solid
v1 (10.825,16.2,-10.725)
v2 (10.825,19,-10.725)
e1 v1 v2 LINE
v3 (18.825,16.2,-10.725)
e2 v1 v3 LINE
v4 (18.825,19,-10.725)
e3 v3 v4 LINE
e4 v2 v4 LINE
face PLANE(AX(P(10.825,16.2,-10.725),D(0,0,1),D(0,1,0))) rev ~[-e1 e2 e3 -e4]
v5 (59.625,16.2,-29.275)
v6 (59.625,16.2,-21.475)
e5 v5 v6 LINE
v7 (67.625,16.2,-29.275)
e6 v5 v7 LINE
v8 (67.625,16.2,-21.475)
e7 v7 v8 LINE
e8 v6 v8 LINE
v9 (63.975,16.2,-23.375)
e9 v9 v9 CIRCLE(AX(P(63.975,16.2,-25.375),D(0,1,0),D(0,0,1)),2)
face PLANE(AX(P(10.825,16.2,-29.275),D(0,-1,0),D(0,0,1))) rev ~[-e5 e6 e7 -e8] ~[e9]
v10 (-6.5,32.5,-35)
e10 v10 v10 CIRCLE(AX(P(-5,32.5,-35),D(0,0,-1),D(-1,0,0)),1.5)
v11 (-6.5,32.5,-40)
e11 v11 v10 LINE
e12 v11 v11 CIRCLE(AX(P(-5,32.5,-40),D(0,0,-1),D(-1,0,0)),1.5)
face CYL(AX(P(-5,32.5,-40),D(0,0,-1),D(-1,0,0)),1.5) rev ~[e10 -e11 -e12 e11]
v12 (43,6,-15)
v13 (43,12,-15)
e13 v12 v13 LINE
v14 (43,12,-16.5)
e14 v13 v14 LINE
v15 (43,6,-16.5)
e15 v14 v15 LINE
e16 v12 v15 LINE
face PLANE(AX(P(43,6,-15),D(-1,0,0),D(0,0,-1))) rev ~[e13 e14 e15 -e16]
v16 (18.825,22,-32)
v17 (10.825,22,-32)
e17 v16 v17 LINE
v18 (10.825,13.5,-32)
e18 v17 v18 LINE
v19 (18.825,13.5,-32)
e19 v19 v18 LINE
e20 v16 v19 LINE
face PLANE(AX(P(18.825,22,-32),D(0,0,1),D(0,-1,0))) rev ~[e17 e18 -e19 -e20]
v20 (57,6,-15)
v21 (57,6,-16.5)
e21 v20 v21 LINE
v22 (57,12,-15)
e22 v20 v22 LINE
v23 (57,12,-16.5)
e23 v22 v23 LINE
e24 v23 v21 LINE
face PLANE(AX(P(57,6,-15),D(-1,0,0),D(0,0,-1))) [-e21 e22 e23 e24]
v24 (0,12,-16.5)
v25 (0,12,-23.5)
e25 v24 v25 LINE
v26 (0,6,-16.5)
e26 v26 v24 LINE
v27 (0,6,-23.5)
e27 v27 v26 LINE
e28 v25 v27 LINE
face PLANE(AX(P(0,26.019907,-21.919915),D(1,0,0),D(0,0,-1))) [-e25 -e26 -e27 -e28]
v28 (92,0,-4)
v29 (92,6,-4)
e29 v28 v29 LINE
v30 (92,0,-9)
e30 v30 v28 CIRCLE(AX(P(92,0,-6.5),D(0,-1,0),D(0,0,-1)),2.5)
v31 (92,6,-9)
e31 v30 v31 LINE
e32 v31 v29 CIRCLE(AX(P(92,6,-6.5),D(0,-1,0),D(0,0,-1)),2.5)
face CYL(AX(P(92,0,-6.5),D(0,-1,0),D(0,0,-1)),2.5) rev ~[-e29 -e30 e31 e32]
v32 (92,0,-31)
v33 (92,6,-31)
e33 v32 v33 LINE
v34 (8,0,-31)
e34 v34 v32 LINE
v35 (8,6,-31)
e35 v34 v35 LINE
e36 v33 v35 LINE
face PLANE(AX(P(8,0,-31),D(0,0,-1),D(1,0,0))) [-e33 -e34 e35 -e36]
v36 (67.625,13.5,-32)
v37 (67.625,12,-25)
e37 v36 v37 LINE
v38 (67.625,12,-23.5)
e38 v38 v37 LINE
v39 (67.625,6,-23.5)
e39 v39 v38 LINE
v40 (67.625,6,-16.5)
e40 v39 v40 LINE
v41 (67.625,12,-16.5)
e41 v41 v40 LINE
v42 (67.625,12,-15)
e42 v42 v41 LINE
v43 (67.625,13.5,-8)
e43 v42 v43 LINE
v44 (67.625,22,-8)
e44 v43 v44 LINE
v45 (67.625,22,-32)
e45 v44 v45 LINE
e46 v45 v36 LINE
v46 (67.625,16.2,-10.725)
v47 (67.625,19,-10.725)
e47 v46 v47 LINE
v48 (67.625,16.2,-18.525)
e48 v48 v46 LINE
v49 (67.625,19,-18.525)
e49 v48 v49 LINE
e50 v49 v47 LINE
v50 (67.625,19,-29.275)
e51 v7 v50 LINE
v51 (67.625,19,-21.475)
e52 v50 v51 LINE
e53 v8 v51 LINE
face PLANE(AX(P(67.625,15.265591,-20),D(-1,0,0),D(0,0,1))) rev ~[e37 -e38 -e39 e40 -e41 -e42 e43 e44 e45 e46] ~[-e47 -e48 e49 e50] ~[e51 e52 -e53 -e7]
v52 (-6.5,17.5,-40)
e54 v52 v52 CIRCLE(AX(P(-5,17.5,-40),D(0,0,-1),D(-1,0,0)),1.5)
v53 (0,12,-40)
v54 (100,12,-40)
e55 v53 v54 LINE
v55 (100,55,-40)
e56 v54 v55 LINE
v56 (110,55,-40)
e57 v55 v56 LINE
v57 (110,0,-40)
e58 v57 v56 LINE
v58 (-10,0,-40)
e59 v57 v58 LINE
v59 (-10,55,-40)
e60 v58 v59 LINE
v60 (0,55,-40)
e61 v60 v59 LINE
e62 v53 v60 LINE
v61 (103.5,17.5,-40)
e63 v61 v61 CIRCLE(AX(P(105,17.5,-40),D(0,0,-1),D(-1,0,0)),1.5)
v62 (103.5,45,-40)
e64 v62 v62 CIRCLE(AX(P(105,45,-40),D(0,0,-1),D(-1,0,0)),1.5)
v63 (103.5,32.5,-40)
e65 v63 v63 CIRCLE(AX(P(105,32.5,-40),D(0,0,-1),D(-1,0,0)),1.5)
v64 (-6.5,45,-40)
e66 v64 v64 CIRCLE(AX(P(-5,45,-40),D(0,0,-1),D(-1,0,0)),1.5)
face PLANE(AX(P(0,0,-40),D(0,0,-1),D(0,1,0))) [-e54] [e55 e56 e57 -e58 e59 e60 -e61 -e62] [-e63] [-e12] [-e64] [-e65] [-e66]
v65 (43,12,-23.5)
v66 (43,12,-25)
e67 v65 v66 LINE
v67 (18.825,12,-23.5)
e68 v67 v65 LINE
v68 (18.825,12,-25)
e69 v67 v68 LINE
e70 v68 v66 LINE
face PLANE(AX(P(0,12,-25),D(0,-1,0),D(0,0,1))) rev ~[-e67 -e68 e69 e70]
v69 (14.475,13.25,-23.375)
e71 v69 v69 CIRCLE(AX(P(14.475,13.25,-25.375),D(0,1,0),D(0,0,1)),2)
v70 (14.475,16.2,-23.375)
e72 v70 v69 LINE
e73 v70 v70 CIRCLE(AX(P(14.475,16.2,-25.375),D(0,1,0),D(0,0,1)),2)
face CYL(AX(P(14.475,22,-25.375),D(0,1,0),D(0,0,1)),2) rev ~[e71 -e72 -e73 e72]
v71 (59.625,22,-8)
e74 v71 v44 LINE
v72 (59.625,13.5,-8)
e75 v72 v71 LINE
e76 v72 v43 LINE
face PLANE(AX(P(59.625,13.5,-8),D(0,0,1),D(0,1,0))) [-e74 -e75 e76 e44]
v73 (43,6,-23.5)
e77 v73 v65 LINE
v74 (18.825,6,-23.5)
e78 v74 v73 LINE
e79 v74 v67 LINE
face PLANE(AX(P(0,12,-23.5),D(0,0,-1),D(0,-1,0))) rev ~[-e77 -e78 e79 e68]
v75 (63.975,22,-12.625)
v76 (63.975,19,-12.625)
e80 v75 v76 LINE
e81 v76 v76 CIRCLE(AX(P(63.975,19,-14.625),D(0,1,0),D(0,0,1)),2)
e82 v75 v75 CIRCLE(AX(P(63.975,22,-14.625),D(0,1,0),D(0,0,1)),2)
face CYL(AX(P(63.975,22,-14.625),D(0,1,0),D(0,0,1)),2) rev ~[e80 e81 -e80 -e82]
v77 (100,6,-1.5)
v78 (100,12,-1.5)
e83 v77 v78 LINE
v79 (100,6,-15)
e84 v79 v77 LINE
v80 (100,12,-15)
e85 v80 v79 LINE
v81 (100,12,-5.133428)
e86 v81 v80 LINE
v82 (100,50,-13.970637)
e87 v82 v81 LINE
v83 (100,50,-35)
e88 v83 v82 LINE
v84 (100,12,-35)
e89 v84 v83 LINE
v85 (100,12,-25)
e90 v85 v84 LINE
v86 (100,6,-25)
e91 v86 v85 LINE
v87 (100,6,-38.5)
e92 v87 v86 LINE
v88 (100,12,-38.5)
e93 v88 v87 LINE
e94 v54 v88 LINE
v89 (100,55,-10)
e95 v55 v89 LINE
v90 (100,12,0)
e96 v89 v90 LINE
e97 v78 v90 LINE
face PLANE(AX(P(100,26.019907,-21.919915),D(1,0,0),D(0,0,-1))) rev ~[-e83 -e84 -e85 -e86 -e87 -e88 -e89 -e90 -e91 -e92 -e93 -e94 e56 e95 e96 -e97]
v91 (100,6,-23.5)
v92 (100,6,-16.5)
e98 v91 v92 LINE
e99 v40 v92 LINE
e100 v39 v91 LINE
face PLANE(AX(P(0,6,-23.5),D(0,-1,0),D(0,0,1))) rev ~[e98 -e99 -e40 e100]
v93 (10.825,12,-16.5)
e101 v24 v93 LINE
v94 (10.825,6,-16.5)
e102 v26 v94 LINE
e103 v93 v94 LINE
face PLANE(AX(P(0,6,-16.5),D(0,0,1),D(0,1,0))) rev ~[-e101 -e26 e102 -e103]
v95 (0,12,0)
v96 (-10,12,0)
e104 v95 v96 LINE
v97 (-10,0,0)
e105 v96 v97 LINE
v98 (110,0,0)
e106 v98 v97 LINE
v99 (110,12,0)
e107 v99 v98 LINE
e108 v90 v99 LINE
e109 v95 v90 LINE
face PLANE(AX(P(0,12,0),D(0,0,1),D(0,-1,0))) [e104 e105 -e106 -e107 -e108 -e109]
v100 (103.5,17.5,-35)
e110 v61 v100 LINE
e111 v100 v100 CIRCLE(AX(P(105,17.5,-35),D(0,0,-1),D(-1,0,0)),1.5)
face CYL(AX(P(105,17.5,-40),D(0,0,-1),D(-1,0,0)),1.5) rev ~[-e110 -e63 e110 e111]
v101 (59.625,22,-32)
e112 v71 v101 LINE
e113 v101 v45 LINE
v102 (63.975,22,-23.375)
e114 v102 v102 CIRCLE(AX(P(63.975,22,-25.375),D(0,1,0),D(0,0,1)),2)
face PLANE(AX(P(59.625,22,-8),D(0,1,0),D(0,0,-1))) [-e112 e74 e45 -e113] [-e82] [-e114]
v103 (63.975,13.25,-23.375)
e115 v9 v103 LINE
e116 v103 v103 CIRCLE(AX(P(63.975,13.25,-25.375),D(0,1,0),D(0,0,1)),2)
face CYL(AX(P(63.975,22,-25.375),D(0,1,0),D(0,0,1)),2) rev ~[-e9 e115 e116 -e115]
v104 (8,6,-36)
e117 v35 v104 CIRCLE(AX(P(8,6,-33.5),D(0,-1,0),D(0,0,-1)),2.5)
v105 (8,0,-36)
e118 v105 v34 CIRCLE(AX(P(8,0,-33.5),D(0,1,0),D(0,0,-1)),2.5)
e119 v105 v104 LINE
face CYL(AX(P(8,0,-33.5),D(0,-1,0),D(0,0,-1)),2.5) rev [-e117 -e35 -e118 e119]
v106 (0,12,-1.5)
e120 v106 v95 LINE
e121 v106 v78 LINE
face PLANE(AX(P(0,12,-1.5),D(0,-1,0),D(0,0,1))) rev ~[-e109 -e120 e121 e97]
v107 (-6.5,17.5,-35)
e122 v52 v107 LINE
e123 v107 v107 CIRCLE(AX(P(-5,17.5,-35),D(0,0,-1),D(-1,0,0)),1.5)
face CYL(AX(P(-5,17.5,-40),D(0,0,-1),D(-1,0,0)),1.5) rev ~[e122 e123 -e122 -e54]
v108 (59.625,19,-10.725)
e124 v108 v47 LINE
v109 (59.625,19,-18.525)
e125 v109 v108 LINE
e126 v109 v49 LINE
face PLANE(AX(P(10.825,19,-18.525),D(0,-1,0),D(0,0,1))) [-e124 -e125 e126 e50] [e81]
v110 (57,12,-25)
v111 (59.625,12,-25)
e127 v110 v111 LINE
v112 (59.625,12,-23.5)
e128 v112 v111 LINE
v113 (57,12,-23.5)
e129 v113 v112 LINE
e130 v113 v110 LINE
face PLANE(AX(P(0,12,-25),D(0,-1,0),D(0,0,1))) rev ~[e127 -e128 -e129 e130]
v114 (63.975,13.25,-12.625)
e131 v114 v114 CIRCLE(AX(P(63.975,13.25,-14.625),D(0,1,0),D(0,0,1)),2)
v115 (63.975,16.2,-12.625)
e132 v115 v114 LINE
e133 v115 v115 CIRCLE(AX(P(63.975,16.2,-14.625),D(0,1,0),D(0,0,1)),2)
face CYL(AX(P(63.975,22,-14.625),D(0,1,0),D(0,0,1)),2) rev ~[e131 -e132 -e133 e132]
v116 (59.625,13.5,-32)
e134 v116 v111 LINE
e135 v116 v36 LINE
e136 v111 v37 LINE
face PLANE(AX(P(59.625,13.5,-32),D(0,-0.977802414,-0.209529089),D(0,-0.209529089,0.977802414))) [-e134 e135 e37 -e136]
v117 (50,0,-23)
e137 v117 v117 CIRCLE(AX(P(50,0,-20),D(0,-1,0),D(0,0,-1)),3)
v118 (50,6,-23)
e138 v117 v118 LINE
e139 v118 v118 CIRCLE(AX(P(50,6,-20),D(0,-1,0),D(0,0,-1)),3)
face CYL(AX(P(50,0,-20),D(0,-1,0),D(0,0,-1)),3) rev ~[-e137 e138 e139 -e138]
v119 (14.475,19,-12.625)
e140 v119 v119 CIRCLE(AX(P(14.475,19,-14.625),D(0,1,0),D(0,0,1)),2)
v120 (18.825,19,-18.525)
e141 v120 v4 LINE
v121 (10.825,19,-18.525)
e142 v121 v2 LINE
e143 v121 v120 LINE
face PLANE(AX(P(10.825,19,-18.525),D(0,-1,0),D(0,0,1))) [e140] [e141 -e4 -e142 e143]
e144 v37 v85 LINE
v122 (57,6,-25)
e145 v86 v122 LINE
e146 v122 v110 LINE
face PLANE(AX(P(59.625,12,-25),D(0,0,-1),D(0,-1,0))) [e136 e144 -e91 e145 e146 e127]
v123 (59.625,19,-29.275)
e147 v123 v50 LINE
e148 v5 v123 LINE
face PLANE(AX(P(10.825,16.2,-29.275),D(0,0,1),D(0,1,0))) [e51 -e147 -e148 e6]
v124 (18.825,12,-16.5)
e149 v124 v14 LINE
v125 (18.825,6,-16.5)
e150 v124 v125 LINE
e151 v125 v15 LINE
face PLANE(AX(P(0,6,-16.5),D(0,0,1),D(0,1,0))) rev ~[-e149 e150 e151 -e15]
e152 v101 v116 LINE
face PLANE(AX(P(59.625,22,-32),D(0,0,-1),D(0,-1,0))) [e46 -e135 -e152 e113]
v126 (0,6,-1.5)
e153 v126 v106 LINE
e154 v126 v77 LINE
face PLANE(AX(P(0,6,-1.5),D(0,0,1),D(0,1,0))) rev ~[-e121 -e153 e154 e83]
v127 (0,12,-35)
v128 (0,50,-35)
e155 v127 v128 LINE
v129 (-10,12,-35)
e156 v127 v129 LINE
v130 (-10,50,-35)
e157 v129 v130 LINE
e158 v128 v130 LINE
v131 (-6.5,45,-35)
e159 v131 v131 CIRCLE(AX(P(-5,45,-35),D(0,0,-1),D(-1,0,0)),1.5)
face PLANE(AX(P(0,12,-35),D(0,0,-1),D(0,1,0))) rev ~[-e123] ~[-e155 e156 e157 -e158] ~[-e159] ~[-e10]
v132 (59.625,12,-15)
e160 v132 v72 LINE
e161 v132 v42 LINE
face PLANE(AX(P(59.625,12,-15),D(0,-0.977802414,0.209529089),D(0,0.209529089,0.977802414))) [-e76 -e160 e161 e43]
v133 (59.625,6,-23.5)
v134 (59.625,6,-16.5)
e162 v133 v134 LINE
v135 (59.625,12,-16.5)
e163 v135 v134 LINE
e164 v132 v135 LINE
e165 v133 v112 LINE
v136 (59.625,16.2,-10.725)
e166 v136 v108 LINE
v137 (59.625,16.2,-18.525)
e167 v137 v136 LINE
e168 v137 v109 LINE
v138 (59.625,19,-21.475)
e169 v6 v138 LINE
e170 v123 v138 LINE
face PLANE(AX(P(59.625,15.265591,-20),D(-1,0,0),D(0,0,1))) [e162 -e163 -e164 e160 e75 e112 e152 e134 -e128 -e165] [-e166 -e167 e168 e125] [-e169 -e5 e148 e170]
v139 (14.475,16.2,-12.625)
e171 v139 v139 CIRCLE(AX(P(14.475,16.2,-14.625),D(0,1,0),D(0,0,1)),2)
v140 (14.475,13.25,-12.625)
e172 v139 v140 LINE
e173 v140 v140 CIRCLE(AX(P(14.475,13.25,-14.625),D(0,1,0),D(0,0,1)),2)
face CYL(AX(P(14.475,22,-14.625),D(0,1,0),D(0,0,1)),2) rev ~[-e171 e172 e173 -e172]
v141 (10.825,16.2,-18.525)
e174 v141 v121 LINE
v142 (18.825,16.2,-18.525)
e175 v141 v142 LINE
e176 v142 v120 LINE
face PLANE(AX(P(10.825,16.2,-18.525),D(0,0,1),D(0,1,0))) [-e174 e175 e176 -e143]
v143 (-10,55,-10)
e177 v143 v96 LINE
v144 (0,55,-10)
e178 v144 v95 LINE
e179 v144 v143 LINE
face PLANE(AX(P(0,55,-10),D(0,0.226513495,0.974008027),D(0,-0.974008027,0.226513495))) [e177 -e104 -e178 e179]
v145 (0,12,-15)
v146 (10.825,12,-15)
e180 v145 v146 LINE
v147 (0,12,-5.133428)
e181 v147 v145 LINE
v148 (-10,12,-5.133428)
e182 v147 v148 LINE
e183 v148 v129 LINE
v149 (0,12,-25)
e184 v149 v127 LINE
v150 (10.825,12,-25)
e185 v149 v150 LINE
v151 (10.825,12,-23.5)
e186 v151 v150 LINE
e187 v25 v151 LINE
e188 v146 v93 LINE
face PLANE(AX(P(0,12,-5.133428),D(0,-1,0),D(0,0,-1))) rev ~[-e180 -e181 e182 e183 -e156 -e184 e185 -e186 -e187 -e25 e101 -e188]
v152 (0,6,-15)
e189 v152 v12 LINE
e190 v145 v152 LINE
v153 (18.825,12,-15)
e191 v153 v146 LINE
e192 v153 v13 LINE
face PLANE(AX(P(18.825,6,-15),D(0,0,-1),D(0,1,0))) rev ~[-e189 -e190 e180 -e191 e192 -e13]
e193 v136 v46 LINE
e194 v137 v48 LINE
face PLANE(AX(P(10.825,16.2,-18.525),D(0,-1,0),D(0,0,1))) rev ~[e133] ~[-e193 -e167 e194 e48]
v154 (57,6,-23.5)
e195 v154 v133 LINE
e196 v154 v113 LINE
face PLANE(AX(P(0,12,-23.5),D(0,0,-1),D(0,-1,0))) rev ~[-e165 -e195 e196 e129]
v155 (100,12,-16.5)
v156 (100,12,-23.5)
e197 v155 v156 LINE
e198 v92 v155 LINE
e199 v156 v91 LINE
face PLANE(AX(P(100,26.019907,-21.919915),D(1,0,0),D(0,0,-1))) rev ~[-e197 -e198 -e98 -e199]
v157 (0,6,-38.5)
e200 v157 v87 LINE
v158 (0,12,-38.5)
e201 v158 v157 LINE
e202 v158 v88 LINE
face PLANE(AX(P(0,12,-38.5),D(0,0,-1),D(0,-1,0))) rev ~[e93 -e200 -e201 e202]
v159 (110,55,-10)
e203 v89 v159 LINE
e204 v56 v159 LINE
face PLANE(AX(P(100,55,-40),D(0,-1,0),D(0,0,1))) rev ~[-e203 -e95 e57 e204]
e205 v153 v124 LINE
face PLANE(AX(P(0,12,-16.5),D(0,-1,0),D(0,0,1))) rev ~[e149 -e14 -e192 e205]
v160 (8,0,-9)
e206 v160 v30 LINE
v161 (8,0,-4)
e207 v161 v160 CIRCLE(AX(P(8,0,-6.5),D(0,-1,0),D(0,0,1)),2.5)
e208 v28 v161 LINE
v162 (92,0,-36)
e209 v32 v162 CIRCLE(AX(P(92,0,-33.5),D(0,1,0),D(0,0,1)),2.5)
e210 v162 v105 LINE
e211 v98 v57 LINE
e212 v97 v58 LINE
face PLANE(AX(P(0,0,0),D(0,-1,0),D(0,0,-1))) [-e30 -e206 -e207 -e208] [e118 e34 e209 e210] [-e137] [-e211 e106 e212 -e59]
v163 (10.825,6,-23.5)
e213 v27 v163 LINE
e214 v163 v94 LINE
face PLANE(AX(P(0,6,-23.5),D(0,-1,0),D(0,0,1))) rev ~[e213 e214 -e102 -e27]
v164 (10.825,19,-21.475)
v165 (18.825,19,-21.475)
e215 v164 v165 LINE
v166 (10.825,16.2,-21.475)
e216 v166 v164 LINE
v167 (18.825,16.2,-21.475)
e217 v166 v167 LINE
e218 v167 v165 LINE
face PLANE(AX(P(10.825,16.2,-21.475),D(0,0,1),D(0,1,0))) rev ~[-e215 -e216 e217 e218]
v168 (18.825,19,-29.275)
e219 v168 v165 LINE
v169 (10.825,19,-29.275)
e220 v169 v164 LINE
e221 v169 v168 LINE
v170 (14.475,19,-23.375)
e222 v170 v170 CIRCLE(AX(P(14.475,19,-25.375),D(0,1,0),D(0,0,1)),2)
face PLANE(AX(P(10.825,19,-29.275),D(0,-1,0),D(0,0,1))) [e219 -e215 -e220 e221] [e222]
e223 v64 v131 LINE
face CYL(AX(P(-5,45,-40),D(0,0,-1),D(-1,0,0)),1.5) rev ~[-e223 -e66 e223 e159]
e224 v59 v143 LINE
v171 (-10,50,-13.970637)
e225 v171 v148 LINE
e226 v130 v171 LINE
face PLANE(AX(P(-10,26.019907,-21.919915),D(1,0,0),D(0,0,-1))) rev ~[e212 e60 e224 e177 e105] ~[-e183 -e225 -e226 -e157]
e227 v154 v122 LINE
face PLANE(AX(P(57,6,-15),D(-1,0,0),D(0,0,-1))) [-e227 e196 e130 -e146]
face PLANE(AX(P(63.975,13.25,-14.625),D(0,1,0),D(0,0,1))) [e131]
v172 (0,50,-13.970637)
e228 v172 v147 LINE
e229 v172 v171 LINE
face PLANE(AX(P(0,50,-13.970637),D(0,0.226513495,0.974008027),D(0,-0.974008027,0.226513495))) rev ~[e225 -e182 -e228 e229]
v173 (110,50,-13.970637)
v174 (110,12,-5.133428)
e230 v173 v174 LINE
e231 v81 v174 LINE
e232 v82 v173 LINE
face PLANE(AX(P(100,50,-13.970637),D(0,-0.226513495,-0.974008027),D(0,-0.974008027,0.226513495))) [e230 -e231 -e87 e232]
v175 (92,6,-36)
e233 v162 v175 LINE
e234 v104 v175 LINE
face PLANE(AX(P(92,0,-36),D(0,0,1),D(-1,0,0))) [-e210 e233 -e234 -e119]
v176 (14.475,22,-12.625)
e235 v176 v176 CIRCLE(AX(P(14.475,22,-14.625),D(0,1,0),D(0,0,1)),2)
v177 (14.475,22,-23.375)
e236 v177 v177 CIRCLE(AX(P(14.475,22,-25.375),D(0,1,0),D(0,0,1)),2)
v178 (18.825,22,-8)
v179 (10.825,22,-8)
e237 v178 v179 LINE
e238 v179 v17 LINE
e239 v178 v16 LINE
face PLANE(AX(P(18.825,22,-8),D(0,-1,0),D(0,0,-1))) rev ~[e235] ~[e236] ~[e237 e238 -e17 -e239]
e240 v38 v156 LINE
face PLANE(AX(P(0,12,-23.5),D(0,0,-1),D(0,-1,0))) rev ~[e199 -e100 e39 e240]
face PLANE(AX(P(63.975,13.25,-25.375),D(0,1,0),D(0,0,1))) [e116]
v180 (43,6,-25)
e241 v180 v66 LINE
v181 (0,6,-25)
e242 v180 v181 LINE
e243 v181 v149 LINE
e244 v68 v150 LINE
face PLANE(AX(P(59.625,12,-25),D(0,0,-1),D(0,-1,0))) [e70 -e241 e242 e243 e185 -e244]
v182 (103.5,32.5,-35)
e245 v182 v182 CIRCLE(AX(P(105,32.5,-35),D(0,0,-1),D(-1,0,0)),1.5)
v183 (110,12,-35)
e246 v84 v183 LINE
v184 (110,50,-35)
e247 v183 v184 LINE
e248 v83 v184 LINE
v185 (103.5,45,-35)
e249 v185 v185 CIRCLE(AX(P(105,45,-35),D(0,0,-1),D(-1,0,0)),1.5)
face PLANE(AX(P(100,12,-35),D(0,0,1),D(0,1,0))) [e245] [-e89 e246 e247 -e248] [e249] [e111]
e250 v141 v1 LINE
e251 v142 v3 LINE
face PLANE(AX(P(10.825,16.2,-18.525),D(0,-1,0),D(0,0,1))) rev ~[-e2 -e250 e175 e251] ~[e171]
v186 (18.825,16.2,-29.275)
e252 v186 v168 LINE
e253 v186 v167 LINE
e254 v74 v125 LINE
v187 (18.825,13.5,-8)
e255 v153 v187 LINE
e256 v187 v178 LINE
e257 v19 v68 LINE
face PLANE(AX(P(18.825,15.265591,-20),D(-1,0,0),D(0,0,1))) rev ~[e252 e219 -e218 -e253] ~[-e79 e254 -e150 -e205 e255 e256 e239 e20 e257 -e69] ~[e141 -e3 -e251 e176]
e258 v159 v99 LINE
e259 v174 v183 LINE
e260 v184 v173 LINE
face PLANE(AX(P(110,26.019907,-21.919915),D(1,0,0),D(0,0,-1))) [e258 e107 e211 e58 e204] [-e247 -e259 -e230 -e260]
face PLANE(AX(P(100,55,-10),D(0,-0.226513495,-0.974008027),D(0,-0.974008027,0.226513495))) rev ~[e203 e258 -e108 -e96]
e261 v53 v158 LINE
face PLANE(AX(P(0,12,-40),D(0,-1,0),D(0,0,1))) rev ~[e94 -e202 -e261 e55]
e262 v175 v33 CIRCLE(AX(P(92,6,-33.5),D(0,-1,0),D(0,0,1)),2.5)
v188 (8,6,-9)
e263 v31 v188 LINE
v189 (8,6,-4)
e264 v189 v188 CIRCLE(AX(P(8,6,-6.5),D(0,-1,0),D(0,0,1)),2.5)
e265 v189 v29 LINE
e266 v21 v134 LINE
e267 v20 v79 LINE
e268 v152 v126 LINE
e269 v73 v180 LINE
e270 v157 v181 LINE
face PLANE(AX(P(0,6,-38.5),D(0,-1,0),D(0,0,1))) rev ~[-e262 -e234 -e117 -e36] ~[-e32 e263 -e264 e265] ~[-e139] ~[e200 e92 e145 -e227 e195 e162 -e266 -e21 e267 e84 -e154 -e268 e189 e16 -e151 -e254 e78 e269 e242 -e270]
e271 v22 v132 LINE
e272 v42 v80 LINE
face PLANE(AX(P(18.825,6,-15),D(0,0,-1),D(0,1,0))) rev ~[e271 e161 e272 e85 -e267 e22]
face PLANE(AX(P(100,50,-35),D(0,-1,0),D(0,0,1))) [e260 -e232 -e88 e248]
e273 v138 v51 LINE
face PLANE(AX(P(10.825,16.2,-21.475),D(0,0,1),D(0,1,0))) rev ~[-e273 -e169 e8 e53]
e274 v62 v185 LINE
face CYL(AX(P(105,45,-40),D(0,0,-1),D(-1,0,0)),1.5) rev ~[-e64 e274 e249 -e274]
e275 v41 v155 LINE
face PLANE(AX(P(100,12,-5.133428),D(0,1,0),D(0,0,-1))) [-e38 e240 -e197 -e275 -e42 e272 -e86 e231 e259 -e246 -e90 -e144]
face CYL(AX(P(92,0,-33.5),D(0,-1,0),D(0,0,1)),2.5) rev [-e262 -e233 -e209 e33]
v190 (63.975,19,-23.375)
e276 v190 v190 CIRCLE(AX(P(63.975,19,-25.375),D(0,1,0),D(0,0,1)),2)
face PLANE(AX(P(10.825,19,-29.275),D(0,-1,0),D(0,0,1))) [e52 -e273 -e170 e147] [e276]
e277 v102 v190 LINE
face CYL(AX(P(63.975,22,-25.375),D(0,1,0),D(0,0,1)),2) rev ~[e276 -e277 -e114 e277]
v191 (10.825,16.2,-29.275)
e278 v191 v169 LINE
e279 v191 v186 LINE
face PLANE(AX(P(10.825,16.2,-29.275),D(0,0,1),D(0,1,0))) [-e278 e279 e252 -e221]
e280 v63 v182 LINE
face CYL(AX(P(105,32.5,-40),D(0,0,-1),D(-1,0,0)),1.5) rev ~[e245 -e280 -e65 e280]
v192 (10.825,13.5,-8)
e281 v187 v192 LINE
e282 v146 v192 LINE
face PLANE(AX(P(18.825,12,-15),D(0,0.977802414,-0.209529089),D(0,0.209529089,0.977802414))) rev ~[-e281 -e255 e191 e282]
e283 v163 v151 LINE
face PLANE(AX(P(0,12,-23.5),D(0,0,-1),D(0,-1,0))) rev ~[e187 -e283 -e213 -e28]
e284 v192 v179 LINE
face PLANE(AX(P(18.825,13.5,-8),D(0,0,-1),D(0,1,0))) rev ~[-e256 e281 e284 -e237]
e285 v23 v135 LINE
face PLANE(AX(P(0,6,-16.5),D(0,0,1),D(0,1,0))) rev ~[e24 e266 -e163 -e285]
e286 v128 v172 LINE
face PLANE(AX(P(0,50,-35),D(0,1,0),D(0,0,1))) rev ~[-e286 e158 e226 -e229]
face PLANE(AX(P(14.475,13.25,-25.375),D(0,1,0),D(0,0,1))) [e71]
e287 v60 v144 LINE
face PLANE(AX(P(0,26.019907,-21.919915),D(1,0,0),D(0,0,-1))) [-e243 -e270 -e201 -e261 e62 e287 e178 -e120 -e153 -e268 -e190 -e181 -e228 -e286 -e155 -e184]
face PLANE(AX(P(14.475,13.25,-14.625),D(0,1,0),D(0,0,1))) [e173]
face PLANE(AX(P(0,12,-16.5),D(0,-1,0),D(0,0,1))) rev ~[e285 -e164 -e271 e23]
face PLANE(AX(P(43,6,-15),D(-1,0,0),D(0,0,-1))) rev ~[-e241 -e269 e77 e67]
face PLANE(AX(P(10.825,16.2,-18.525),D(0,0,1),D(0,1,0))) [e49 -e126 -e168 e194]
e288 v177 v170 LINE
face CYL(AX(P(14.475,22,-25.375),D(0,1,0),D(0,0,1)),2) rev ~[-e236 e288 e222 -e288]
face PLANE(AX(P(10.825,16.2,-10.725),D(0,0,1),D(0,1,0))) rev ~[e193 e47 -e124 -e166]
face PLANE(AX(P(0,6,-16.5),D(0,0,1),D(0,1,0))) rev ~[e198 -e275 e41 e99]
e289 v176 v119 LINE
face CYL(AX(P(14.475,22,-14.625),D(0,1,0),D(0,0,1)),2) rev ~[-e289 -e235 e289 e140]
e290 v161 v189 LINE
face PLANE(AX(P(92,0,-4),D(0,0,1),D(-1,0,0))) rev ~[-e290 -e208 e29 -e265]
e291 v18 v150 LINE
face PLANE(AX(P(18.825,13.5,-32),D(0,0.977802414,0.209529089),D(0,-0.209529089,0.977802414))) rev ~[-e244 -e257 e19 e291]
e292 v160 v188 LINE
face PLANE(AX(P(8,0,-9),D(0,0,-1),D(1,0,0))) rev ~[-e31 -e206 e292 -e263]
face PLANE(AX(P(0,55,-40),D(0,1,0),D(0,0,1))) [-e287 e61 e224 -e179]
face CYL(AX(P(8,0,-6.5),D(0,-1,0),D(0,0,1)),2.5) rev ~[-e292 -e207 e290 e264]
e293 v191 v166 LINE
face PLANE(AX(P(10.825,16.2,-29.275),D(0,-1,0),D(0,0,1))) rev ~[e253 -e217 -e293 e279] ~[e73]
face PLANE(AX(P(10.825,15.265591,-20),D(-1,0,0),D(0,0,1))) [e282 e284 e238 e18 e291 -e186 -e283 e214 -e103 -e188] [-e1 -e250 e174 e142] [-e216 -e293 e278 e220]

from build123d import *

# Parameters (mm, degrees)
BOSS_EXTRUDE1_DEPTH  = 100
BOSS_EXTRUDE2_DEPTH  = 8
BOSS_EXTRUDE3_DEPTH  = 8
SKETCH10_R           = 2
CUT_EXTRUDE4_DEPTH   = 8.75
SKETCH11_W           = 7.8
SKETCH11_H           = 2.8
CUT_EXTRUDE5_DEPTH   = 101.180739791
CUT_EXTRUDE1_REACH   = 111.927
SKETCH5_R            = 3
SKETCH6_W            = 14
SKETCH6_H            = 10
CUT_EXTRUDE2_DEPTH   = 6
BOSS_EXTRUDE4_DEPTH  = 10
BOSS_EXTRUDE11_DEPTH = 10
CUT_EXTRUDE3_REACH   = 131.325
SKETCH9_R            = 1.5


with BuildPart() as part:
    # Sketch1 → Boss-Extrude1 (new body)
    with BuildSketch(Plane(origin=(0, 0, 0), x_dir=(0, 0, -1), z_dir=(1, 0, 0))):
        Polygon((0, 0), (40, 0), (40, 12), (38.5, 12), (38.5, 6), (25, 6), (25, 12), (23.5, 12), (23.5, 6), (16.5, 6), (16.5, 12), (15, 12), (15, 6), (1.5, 6), (1.5, 12), (0, 12), align=None)
    extrude(amount=BOSS_EXTRUDE1_DEPTH)

    # Sketch2 → Boss-Extrude2 (add)
    with BuildSketch(Plane(origin=(18.825, 0, 0), x_dir=(0, 0, -1), z_dir=(1, 0, 0))):
        Polygon((15, 6), (15, 12), (8, 13.5), (8, 22), (32, 22), (32, 13.5), (25, 12), (25, 6), align=None)
    extrude(amount=-BOSS_EXTRUDE2_DEPTH)

    # Sketch4 → Boss-Extrude3 (add)
    with BuildSketch(Plane(origin=(59.625, 0, 0), x_dir=(0, 0, -1), z_dir=(1, 0, 0))):
        Polygon((25, 6), (15, 6), (15, 12), (8, 13.5), (8, 22), (32, 22), (32, 13.5), (25, 12), align=None)
    extrude(amount=BOSS_EXTRUDE3_DEPTH)

    # Sketch10 → Cut-Extrude4 (cut)
    with BuildSketch(Plane(origin=(0, 22, 0), x_dir=(1, 0, 0), z_dir=(0, 1, 0))):
        with Locations(Location((14.475, 14.625, 0), (0, 0, 270))):
            Circle(SKETCH10_R)
        with Locations(Location((14.475, 25.375, 0), (0, 0, 270))):
            Circle(SKETCH10_R)
        with Locations(Location((63.975, 14.625, 0), (0, 0, 270))):
            Circle(SKETCH10_R)
        with Locations(Location((63.975, 25.375, 0), (0, 0, 270))):
            Circle(SKETCH10_R)
    extrude(amount=-CUT_EXTRUDE4_DEPTH, mode=Mode.SUBTRACT)

    # Sketch11 → Cut-Extrude5 (cut, through all)
    with BuildSketch(Plane.ZY.offset(-10.825)):
        with Locations((-25.375, 17.6)):
            Rectangle(SKETCH11_W, SKETCH11_H)
        with Locations((-14.625, 17.6)):
            Rectangle(SKETCH11_W, SKETCH11_H)
    extrude(amount=-CUT_EXTRUDE5_DEPTH, mode=Mode.SUBTRACT)

    # Sketch5 → Cut-Extrude1 (cut, up to next)
    with BuildSketch(Plane.XZ, mode=Mode.PRIVATE) as cut_extrude1_sk1:
        with Locations(Location((50, -20, 0), (0, 0, 270))):
            Circle(SKETCH5_R)
    cut_extrude1_tool1 = extrude(cut_extrude1_sk1.sketch, amount=-CUT_EXTRUDE1_REACH, mode=Mode.PRIVATE) & part.part
    # Sketch5 → Cut-Extrude1 (cut, up to next)
    with BuildSketch(Plane.XZ, mode=Mode.PRIVATE) as cut_extrude1_sk2:
        with BuildLine():
            Line((8, -31), (92, -31))
            ThreePointArc((92, -31), (94.5, -33.5), (92, -36))
            Line((92, -36), (8, -36))
            ThreePointArc((8, -36), (5.5, -33.5), (8, -31))
        make_face()
    cut_extrude1_tool2 = extrude(cut_extrude1_sk2.sketch, amount=-CUT_EXTRUDE1_REACH, mode=Mode.PRIVATE) & part.part
    # Sketch5 → Cut-Extrude1 (cut, up to next)
    with BuildSketch(Plane.XZ, mode=Mode.PRIVATE) as cut_extrude1_sk3:
        with BuildLine():
            Line((92, -4), (8, -4))
            ThreePointArc((8, -4), (5.5, -6.5), (8, -9))
            Line((8, -9), (92, -9))
            ThreePointArc((92, -9), (94.5, -6.5), (92, -4))
        make_face()
    cut_extrude1_tool3 = extrude(cut_extrude1_sk3.sketch, amount=-CUT_EXTRUDE1_REACH, mode=Mode.PRIVATE) & part.part
    add(cut_extrude1_tool1.solids().sort_by_distance((50, 0, -20))[0], mode=Mode.SUBTRACT)
    add(cut_extrude1_tool2.solids().sort_by_distance((50, 0, -33.5))[0], mode=Mode.SUBTRACT)
    add(cut_extrude1_tool3.solids().sort_by_distance((50, 0, -6.5))[0], mode=Mode.SUBTRACT)

    # Sketch6 → Cut-Extrude2 (cut)
    with BuildSketch(Plane(origin=(0, 6, 0), x_dir=(1, 0, 0), z_dir=(0, 1, 0))):
        with Locations((50, 20)):
            Rectangle(SKETCH6_W, SKETCH6_H)
    extrude(amount=CUT_EXTRUDE2_DEPTH, mode=Mode.SUBTRACT)

    # Sketch7 → Boss-Extrude4 (add)
    with BuildSketch(Plane(origin=(100, 0, 0), x_dir=(0, 0, -1), z_dir=(1, 0, 0))):
        Polygon((0, 0), (40, 0), (40, 12), (40, 55), (10, 55), (0, 12), align=None)
        Polygon((35, 50), (13.970637222, 50), (5.13342792, 12), (35, 12), align=None, mode=Mode.SUBTRACT)
    extrude(amount=BOSS_EXTRUDE4_DEPTH)

    # Sketch8 → Boss-Extrude11 (add)
    with BuildSketch(Plane.ZY):
        Polygon((-40, 0), (-40, 55), (-10, 55), (0, 12), (0, 0), align=None)
        Polygon((-35, 50), (-13.970637222, 50), (-5.13342792, 12), (-35, 12), align=None, mode=Mode.SUBTRACT)
    extrude(amount=BOSS_EXTRUDE11_DEPTH)

    # Sketch9 → Cut-Extrude3 (cut, up to next)
    with BuildSketch(Plane(origin=(0, 0, -40), x_dir=(-1, 0, 0), z_dir=(0, 0, -1)), mode=Mode.PRIVATE) as cut_extrude3_sk1:
        with Locations((-105, 45)):
            Circle(SKETCH9_R)
    cut_extrude3_tool1 = extrude(cut_extrude3_sk1.sketch, amount=-CUT_EXTRUDE3_REACH, mode=Mode.PRIVATE) & part.part
    # Sketch9 → Cut-Extrude3 (cut, up to next)
    with BuildSketch(Plane(origin=(0, 0, -40), x_dir=(-1, 0, 0), z_dir=(0, 0, -1)), mode=Mode.PRIVATE) as cut_extrude3_sk2:
        with Locations((-105, 32.5)):
            Circle(SKETCH9_R)
    cut_extrude3_tool2 = extrude(cut_extrude3_sk2.sketch, amount=-CUT_EXTRUDE3_REACH, mode=Mode.PRIVATE) & part.part
    # Sketch9 → Cut-Extrude3 (cut, up to next)
    with BuildSketch(Plane(origin=(0, 0, -40), x_dir=(-1, 0, 0), z_dir=(0, 0, -1)), mode=Mode.PRIVATE) as cut_extrude3_sk3:
        with Locations((-105, 17.5)):
            Circle(SKETCH9_R)
    cut_extrude3_tool3 = extrude(cut_extrude3_sk3.sketch, amount=-CUT_EXTRUDE3_REACH, mode=Mode.PRIVATE) & part.part
    # Sketch9 → Cut-Extrude3 (cut, up to next)
    with BuildSketch(Plane(origin=(0, 0, -40), x_dir=(-1, 0, 0), z_dir=(0, 0, -1)), mode=Mode.PRIVATE) as cut_extrude3_sk4:
        with Locations((5, 45)):
            Circle(SKETCH9_R)
    cut_extrude3_tool4 = extrude(cut_extrude3_sk4.sketch, amount=-CUT_EXTRUDE3_REACH, mode=Mode.PRIVATE) & part.part
    # Sketch9 → Cut-Extrude3 (cut, up to next)
    with BuildSketch(Plane(origin=(0, 0, -40), x_dir=(-1, 0, 0), z_dir=(0, 0, -1)), mode=Mode.PRIVATE) as cut_extrude3_sk5:
        with Locations((5, 32.5)):
            Circle(SKETCH9_R)
    cut_extrude3_tool5 = extrude(cut_extrude3_sk5.sketch, amount=-CUT_EXTRUDE3_REACH, mode=Mode.PRIVATE) & part.part
    # Sketch9 → Cut-Extrude3 (cut, up to next)
    with BuildSketch(Plane(origin=(0, 0, -40), x_dir=(-1, 0, 0), z_dir=(0, 0, -1)), mode=Mode.PRIVATE) as cut_extrude3_sk6:
        with Locations((5, 17.5)):
            Circle(SKETCH9_R)
    cut_extrude3_tool6 = extrude(cut_extrude3_sk6.sketch, amount=-CUT_EXTRUDE3_REACH, mode=Mode.PRIVATE) & part.part
    add(cut_extrude3_tool1.solids().sort_by_distance((105, 45, -40))[0], mode=Mode.SUBTRACT)
    add(cut_extrude3_tool2.solids().sort_by_distance((105, 32.5, -40))[0], mode=Mode.SUBTRACT)
    add(cut_extrude3_tool3.solids().sort_by_distance((105, 17.5, -40))[0], mode=Mode.SUBTRACT)
    add(cut_extrude3_tool4.solids().sort_by_distance((-5, 45, -40))[0], mode=Mode.SUBTRACT)
    add(cut_extrude3_tool5.solids().sort_by_distance((-5, 32.5, -40))[0], mode=Mode.SUBTRACT)
    add(cut_extrude3_tool6.solids().sort_by_distance((-5, 17.5, -40))[0], mode=Mode.SUBTRACT)


solid = part.part
